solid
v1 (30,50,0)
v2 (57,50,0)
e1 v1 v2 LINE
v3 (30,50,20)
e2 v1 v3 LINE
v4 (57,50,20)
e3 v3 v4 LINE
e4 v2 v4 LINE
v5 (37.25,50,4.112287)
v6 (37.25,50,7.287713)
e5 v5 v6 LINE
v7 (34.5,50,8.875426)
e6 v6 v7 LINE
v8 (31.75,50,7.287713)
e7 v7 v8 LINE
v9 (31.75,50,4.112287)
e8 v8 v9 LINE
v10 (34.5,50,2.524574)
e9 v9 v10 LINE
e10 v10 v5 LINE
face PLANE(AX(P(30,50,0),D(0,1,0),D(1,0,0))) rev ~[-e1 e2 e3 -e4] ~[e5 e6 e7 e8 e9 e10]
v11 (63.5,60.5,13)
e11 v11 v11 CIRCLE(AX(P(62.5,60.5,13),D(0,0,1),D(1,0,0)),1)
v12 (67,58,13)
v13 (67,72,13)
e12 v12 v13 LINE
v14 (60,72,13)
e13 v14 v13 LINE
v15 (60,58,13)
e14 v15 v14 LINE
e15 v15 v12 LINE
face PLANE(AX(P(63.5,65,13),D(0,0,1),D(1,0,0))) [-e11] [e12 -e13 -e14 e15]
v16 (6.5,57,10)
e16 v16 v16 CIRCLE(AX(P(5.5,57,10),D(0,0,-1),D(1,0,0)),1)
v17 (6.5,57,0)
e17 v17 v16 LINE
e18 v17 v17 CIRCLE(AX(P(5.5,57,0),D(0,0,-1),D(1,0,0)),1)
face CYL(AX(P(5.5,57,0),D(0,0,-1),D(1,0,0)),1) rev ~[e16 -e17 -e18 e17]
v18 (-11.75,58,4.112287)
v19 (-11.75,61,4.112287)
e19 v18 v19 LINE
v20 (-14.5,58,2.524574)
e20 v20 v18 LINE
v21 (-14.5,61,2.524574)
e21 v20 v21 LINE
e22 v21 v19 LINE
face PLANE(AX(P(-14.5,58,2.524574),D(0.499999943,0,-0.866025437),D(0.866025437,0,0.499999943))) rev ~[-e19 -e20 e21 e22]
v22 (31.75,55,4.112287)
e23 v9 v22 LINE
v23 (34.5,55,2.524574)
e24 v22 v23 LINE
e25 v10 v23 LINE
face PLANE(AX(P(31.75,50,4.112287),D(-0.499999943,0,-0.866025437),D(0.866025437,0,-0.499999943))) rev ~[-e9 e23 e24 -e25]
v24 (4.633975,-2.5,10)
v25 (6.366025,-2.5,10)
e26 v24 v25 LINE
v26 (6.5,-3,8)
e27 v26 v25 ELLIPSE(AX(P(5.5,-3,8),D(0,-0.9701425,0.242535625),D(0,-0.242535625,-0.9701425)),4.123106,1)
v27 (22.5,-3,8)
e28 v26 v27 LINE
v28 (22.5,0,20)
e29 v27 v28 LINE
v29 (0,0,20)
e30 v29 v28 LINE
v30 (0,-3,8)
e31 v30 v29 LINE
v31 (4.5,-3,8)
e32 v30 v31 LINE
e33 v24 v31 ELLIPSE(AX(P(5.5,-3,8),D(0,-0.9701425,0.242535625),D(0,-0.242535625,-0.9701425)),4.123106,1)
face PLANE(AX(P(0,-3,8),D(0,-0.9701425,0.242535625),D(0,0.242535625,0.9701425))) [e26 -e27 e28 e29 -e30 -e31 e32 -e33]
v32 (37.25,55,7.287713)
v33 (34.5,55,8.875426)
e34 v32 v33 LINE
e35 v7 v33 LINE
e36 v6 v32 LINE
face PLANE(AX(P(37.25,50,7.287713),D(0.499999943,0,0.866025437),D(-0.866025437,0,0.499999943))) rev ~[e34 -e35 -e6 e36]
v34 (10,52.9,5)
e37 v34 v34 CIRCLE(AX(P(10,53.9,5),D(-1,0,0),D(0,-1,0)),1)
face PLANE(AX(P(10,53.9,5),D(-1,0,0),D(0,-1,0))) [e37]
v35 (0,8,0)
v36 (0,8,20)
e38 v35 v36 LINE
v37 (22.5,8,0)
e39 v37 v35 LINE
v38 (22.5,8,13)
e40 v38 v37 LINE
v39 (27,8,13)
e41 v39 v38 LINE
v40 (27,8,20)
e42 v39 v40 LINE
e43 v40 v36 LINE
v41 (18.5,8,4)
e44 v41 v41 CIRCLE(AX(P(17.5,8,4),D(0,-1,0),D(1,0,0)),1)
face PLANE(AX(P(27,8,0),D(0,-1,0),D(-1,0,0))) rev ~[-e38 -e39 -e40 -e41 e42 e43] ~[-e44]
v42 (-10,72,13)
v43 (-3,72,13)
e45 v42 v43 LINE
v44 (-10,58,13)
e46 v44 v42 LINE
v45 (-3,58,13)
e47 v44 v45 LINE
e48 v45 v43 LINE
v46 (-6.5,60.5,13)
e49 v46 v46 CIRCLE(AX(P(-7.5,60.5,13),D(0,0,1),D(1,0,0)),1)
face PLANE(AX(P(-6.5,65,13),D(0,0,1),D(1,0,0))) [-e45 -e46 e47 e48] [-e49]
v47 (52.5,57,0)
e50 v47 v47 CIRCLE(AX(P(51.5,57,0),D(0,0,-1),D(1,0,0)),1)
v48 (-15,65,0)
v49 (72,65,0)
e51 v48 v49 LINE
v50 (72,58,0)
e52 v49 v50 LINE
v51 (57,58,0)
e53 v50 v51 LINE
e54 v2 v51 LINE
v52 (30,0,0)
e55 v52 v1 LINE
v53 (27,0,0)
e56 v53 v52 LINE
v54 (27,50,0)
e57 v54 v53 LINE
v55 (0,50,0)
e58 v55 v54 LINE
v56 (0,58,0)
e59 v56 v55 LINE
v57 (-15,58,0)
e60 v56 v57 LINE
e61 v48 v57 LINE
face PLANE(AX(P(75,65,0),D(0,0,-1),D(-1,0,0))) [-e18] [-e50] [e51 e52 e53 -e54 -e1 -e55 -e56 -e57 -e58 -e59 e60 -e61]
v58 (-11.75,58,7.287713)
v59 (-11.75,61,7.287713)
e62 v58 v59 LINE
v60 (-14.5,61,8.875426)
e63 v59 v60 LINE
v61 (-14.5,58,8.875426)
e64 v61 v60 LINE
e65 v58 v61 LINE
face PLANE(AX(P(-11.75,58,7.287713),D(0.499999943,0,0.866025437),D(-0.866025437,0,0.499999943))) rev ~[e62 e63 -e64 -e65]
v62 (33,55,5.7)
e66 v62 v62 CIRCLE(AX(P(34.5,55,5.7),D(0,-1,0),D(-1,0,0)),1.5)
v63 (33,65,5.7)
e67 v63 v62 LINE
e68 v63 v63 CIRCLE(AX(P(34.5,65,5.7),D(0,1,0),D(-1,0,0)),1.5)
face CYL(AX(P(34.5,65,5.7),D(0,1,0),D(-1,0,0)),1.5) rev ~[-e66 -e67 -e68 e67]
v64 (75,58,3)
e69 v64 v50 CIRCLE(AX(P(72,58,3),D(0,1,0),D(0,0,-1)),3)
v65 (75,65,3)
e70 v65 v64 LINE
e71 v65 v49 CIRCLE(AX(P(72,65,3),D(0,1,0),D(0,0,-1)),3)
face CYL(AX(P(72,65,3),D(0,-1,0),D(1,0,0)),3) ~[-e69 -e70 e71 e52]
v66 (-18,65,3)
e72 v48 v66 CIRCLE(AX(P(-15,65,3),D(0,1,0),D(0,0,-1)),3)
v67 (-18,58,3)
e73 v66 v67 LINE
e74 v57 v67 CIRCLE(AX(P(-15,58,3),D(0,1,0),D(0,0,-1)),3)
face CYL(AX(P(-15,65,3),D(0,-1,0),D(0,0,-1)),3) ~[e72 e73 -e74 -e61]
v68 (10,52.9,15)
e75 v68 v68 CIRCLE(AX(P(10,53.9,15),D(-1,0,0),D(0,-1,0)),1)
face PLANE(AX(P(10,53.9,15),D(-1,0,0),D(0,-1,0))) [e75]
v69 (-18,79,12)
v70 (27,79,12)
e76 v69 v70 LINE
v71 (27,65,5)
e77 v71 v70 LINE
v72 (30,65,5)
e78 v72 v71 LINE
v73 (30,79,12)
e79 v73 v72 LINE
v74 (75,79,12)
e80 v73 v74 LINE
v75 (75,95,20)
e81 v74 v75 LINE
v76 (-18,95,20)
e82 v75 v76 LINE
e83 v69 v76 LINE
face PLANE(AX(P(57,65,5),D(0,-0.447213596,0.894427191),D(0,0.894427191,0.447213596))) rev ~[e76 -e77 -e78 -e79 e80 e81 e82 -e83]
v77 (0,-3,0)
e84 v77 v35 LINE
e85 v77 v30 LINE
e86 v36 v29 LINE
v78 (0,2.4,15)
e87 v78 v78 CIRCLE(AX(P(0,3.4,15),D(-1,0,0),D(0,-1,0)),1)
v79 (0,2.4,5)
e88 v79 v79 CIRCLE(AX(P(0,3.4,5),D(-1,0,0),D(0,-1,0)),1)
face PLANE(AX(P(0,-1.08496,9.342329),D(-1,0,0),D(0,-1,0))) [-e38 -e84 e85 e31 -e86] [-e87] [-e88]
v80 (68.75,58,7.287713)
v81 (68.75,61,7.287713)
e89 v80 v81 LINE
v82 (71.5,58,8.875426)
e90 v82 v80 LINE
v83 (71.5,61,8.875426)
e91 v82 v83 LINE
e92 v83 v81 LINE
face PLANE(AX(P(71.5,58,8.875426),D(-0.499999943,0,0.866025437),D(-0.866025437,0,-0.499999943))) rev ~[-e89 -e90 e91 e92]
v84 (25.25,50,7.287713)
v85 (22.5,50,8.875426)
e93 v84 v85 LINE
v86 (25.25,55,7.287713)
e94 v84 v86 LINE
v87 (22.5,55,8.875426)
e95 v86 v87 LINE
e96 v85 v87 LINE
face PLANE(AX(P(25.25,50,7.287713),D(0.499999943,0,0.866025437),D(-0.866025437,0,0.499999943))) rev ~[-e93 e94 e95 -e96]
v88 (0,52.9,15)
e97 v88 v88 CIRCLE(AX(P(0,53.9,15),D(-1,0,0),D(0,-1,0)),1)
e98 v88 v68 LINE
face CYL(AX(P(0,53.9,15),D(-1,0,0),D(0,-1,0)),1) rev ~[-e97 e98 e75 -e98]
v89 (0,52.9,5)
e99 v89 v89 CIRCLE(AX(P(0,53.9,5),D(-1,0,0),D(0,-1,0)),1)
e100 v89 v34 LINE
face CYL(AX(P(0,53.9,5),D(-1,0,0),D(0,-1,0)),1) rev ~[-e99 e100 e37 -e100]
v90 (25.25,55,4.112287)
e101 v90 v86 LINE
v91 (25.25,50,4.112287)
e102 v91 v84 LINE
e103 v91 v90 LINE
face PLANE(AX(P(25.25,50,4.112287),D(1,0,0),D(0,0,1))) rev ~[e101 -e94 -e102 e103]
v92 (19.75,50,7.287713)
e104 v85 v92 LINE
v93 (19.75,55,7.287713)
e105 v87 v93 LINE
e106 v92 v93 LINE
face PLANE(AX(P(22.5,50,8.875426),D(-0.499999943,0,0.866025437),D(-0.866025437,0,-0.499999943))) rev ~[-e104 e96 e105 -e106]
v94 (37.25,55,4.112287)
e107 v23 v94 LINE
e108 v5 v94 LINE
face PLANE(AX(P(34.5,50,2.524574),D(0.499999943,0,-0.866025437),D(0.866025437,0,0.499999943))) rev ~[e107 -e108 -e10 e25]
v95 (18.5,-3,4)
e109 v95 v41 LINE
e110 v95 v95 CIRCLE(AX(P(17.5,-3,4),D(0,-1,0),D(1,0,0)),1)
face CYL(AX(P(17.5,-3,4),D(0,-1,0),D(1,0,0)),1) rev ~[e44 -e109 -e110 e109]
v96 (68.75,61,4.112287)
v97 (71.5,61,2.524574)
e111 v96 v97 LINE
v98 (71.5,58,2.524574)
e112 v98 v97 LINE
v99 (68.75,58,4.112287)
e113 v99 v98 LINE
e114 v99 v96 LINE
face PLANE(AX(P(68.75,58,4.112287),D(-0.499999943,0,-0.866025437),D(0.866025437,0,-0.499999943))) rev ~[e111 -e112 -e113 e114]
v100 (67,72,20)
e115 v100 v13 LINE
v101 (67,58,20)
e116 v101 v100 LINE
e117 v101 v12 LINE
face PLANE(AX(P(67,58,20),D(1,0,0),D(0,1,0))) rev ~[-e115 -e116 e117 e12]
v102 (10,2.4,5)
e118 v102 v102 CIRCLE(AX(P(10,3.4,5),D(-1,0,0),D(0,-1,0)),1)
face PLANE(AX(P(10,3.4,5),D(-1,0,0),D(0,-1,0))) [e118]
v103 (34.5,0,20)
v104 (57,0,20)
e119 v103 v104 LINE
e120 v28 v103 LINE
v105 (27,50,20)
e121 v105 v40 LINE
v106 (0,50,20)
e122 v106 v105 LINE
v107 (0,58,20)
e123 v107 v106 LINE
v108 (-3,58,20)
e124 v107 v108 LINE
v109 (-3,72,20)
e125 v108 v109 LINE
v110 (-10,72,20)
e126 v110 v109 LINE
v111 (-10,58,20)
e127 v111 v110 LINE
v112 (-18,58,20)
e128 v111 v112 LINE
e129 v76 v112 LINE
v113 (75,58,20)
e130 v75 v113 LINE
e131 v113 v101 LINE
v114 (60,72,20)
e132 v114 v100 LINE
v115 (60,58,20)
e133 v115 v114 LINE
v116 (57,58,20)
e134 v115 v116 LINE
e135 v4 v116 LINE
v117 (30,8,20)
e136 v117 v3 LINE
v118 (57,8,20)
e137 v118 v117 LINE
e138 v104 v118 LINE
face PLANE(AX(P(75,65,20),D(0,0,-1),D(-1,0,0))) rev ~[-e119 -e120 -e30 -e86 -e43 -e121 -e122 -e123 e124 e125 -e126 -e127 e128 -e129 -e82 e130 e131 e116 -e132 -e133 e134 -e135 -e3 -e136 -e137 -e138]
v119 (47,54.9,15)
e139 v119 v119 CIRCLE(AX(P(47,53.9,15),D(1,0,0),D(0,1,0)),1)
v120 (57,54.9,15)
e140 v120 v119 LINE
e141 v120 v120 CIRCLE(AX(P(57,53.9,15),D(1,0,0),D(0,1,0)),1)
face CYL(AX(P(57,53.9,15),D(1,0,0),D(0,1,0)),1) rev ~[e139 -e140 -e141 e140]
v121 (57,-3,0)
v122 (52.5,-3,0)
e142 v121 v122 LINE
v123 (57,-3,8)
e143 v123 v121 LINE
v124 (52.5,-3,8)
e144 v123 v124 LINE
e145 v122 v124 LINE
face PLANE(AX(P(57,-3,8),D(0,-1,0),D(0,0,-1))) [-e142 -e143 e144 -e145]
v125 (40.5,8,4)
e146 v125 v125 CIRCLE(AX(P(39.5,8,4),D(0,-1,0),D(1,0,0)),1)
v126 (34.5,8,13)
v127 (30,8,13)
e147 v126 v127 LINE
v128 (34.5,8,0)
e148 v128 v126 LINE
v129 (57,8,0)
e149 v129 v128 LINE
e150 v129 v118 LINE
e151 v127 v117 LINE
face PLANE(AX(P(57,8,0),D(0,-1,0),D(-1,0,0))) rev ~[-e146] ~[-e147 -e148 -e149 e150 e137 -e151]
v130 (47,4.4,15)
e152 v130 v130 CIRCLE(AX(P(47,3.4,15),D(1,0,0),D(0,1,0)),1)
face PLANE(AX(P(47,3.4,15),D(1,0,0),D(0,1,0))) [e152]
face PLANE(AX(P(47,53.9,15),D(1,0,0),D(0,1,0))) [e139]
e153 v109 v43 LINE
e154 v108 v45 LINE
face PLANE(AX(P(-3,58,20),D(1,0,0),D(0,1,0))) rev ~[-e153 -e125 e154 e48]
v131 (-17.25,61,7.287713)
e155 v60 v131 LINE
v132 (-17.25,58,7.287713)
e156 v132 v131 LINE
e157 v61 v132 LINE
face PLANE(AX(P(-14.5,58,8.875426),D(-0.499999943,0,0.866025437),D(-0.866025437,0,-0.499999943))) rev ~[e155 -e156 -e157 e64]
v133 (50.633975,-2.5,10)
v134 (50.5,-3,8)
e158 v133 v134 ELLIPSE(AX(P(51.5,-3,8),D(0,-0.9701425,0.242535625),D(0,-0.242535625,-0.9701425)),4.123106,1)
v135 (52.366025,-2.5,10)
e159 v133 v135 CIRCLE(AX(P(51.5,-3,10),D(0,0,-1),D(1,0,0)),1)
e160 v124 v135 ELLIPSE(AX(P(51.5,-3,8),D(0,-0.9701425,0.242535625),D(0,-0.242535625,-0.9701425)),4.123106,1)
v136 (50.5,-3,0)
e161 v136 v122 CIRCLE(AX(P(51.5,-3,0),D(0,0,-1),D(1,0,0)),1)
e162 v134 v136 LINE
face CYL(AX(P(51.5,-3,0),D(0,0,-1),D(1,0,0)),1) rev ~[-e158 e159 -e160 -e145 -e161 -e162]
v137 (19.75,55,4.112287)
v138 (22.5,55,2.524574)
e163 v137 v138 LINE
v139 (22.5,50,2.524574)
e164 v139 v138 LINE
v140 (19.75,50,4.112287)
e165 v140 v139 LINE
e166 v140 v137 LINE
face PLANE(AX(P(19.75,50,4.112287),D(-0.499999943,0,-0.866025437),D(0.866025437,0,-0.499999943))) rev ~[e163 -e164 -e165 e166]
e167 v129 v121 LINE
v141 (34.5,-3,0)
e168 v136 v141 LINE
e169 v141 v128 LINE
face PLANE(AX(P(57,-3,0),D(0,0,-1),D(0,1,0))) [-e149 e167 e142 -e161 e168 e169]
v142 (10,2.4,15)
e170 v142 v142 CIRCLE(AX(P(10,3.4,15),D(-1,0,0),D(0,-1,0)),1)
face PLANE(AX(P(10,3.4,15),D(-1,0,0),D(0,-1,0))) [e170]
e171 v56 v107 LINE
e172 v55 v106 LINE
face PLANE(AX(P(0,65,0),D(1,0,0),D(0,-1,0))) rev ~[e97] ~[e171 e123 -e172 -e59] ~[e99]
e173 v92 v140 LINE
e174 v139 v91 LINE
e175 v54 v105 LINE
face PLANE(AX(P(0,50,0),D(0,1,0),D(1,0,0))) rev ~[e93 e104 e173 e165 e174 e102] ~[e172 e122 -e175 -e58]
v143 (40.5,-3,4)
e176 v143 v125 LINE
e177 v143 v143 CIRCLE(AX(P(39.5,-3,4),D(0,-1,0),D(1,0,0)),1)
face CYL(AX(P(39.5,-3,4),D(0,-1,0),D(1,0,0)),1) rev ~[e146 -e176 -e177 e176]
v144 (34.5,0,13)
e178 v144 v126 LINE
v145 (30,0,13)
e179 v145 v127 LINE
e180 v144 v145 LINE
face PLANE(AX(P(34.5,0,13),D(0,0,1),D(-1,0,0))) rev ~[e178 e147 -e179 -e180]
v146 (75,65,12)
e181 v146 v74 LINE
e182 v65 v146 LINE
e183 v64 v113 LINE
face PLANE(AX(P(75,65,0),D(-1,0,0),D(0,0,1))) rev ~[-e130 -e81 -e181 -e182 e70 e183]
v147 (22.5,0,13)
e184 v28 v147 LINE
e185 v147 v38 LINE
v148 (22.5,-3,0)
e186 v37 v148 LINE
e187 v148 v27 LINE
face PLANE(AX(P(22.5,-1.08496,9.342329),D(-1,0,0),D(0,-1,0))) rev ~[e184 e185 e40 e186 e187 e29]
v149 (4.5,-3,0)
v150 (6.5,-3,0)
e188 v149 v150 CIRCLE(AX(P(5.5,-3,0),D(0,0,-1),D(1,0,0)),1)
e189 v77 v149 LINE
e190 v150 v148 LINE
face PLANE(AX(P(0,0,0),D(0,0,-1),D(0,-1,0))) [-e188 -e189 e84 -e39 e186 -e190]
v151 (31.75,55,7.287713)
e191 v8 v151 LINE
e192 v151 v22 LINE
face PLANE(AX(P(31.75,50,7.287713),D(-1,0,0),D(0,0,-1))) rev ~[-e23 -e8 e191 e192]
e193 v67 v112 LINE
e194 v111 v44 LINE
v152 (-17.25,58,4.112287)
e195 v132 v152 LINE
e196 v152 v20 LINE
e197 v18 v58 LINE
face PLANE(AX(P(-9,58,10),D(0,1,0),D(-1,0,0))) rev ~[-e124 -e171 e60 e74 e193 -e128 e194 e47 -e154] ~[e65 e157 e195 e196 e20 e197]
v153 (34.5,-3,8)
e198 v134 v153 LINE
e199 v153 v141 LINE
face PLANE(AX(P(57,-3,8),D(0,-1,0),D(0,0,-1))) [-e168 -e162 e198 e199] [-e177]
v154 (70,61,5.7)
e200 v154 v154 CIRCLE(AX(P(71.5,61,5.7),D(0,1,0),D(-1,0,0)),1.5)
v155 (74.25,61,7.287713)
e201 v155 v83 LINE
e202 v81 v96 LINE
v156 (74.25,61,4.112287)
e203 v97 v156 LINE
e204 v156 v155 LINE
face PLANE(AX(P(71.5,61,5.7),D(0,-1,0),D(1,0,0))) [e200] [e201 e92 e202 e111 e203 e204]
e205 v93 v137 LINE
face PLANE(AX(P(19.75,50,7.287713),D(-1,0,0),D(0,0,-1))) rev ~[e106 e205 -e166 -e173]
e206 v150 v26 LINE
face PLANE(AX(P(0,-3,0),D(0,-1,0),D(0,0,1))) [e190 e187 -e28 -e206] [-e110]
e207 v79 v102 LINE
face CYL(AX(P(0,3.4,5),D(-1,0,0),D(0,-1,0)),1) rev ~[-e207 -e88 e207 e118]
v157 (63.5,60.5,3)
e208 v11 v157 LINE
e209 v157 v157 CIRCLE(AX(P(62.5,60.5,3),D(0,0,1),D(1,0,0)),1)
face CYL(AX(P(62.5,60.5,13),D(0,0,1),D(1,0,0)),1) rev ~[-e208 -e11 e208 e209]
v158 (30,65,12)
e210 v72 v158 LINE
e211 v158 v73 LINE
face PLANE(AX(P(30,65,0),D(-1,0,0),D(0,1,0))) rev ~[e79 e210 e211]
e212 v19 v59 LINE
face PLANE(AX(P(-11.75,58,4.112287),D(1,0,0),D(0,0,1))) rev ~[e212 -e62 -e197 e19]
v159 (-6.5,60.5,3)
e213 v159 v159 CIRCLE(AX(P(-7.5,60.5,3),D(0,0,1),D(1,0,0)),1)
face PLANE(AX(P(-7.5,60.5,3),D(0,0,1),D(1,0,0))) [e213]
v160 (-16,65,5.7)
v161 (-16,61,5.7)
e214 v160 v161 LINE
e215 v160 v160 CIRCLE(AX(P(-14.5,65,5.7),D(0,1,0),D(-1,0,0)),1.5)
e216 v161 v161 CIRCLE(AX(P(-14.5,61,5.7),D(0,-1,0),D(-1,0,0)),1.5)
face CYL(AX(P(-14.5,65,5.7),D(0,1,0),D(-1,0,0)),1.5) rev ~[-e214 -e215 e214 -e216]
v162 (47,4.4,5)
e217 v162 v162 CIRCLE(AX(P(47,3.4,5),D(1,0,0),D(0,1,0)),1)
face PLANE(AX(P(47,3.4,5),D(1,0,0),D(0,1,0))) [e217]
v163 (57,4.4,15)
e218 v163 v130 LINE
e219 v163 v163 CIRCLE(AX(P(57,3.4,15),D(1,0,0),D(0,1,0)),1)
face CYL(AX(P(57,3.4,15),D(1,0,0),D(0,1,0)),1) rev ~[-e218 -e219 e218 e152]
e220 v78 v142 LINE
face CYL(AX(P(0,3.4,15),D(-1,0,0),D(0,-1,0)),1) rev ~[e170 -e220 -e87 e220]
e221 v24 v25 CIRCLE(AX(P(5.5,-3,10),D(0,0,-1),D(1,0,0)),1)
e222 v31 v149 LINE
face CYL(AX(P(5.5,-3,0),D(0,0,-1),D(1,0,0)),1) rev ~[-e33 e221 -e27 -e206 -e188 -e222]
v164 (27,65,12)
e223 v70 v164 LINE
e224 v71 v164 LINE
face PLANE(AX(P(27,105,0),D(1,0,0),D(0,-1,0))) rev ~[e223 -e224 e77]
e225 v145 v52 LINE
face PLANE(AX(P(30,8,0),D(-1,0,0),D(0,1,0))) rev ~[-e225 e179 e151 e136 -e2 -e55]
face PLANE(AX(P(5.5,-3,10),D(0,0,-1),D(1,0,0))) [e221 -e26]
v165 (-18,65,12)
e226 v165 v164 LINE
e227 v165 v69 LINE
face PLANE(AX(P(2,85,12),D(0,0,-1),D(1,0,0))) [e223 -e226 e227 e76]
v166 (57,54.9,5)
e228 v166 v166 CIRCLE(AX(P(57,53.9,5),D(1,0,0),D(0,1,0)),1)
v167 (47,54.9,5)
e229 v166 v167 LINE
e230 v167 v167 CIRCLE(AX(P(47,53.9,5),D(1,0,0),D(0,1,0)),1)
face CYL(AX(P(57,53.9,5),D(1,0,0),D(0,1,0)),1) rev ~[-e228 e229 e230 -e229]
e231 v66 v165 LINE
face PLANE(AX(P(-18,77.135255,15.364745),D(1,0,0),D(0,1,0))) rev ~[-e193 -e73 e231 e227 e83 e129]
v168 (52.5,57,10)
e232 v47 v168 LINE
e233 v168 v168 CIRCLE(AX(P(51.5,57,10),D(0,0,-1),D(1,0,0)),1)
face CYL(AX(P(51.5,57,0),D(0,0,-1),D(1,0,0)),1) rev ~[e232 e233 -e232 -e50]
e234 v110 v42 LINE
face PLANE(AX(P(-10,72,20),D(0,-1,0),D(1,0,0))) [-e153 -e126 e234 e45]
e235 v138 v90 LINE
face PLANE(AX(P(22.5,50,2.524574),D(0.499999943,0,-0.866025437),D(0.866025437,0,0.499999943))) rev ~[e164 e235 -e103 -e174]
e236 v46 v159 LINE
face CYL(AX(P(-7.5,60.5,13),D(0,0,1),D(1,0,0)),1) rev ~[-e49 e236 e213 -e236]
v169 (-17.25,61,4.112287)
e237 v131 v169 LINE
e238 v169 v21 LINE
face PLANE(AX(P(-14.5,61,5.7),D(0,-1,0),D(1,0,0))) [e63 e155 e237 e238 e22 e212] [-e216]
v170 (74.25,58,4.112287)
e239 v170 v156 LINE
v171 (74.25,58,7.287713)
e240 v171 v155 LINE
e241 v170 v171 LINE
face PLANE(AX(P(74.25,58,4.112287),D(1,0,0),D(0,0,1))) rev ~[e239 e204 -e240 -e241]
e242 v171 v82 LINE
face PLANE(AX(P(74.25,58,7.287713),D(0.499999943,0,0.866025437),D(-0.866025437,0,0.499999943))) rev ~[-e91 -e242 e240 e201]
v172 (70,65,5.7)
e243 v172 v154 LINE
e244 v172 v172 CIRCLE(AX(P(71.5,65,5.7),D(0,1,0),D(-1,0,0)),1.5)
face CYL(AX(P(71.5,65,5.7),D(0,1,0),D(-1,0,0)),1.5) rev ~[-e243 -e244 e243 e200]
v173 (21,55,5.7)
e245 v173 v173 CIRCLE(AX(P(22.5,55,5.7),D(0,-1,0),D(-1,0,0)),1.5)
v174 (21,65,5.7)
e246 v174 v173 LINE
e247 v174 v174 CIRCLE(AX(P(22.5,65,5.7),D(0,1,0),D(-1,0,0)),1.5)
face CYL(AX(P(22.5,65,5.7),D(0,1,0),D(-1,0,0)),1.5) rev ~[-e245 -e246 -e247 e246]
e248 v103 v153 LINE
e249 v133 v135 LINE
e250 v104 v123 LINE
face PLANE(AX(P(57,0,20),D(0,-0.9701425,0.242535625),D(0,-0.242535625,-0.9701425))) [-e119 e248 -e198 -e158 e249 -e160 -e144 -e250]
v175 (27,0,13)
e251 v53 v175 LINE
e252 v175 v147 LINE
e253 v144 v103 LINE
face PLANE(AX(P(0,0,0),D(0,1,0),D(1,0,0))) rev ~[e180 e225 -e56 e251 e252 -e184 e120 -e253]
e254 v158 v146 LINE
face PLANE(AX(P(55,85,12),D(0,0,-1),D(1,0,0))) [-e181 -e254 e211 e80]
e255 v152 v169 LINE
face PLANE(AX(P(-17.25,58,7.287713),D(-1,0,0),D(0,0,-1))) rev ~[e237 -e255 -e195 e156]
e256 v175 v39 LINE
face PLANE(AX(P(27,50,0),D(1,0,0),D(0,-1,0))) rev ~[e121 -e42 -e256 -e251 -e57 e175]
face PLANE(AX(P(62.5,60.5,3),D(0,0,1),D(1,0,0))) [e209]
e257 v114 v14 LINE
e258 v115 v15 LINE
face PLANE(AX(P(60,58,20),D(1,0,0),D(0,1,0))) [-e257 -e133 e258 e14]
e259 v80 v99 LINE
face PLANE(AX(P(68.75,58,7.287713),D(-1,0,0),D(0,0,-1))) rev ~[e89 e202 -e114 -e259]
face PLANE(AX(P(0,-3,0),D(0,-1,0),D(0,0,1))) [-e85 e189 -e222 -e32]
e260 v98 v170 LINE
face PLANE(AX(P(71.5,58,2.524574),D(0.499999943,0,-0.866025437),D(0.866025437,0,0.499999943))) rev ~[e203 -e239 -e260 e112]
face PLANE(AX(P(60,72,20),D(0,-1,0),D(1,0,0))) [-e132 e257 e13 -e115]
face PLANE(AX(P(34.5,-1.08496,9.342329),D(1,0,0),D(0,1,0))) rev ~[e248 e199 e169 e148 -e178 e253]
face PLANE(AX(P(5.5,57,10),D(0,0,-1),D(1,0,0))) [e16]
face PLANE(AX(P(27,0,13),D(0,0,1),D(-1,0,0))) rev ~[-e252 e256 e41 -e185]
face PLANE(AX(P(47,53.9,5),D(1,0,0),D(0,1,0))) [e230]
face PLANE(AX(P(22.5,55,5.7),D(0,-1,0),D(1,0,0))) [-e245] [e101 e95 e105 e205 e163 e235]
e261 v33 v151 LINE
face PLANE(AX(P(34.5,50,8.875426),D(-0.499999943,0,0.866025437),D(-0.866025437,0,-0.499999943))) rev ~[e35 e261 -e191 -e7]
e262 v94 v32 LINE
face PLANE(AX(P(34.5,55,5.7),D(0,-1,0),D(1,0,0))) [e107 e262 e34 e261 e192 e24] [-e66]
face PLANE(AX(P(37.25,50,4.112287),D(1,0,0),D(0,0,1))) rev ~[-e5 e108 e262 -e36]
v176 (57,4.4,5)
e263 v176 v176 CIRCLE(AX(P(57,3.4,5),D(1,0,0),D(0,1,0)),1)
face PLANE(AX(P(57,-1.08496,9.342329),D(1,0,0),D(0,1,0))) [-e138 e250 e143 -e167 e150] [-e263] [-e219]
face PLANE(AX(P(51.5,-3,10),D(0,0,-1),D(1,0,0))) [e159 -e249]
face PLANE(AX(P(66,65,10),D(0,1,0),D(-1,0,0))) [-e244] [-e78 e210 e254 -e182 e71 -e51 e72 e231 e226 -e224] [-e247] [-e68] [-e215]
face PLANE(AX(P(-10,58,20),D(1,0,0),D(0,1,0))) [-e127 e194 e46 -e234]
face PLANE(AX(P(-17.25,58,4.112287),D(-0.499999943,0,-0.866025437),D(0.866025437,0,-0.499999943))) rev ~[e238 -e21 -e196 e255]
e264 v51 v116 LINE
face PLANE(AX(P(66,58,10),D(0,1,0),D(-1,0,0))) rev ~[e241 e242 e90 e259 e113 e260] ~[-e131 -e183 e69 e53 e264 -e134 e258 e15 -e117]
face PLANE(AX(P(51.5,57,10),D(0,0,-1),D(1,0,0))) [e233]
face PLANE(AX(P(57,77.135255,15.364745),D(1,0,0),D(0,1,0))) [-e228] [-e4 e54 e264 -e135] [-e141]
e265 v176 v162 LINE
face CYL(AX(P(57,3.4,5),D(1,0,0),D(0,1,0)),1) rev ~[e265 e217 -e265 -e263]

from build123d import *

# Parameters (mm, degrees)
F1_DEPTH      = 20
F2_R          = 1
F3_DEPTH      = 10
F4_R          = 1
F5_DEPTH      = 10
F7_DEPTH      = 75
F7_DEPTH_BACK = -18
F9_DEPTH      = 12
F11_DEPTH     = 12
F12_W         = 18
F12_H         = 20
F13_DEPTH     = 7
F14_R         = 1.5
F15_DEPTH     = 25
F16_R         = 3
F18_DEPTH     = 22.5
F20_DEPTH     = 22.5
F21_R         = 1
F22_DEPTH     = 10
F23_W         = 7
F23_H         = 14
F24_DEPTH     = 7
F25_R         = 1
F26_DEPTH     = 25
F27_R         = 1
F28_DEPTH     = 10
F29_R         = 1.5
F30_R         = 1.5
F33_DEPTH     = 5
F32_R         = 1.5
F34_DEPTH     = 3


with BuildPart() as f1:
    # F0 (on Top) → F1 (new body)
    with BuildSketch(Plane.XY):
        Polygon((0, 8), (0, 0), (57, 0), (57, 8), (30, 8), (30, 50), (57, 50), (57, 65), (0, 65), (0, 50), (27, 50), (27, 8), align=None)
    extrude(amount=F1_DEPTH)

    # F2 (on face) → F3 (cut)
    with BuildSketch(Plane.YZ.offset(57)):
        with Locations((3.4, 15)):
            Circle(F2_R)
        with Locations((3.4, 5)):
            Circle(F2_R)
        with Locations((53.9, 15)):
            Circle(F2_R)
        with Locations((53.9, 5)):
            Circle(F2_R)
    extrude(amount=-F3_DEPTH, mode=Mode.SUBTRACT)

    # F4 (on face) → F5 (cut)
    with BuildSketch(Plane(origin=(0, 0, 0), x_dir=(0, -1, 0), z_dir=(-1, 0, 0))):
        with Locations((-53.9, 15)):
            Circle(F4_R)
        with Locations((-53.9, 5)):
            Circle(F4_R)
        with Locations((-3.4, 15)):
            Circle(F4_R)
        with Locations((-3.4, 5)):
            Circle(F4_R)
    extrude(amount=-F5_DEPTH, mode=Mode.SUBTRACT)

    # F6 (on face) → F7 (join, two sides)
    with BuildSketch(Plane.YZ.offset(57)) as f7_sk:
        Polygon((65, 20), (65, 5), (95, 20), align=None)
    extrude(amount=-F7_DEPTH)
    extrude(f7_sk.sketch, amount=-F7_DEPTH_BACK)

    # F8 (on face) → F9 (cut)
    with BuildSketch(Plane.XZ):
        Polygon((27, 0), (27, 13), (22.5, 13), (22.5, 7), (22.5, 0), align=None)
        Polygon((30, 13), (30, 0), (34.5, 0), (34.5, 7), (34.5, 13), align=None)
    extrude(amount=-F9_DEPTH, mode=Mode.SUBTRACT)

    # F10 (on face) → F11 (cut)
    with BuildSketch(Plane(origin=(0, 0, 0), x_dir=(1, 0, 0), z_dir=(0, 0, -1))):
        Polygon((27, -105), (27, -65), (0, -65), (-23, -65), (-23, -105), align=None)
        Polygon((57, -65), (30, -65), (30, -105), (80, -105), (80, -65), align=None)
    extrude(amount=-F11_DEPTH, mode=Mode.SUBTRACT)

    # F12 (on face) → F13 (join)
    with BuildSketch(Plane(origin=(0, 65, 0), x_dir=(-1, 0, 0), z_dir=(0, 1, 0))):
        with Locations((-66, 10)):
            Rectangle(F12_W, F12_H)
        with Locations((9, 10)):
            Rectangle(F12_W, F12_H)
    extrude(amount=-F13_DEPTH)

    # F14 (on face) → F15 (cut)
    with BuildSketch(Plane(origin=(0, 65, 0), x_dir=(-1, 0, 0), z_dir=(0, 1, 0))):
        with Locations((-71.5, 5.7)):
            Circle(F14_R)
        with Locations((-34.5, 5.7)):
            Circle(F14_R)
        with Locations((-22.5, 5.7)):
            Circle(F14_R)
        with Locations((14.5, 5.7)):
            Circle(F14_R)
    extrude(amount=-F15_DEPTH, mode=Mode.SUBTRACT)

    # F16
    f16_edges = [f1.edges().sort_by_distance(p)[0] for p in [
        (75, 61.5, 0),
        (-18, 61.5, 0),
    ]]
    fillet(f16_edges, radius=F16_R)

    # F17 (on face) → F18 (join, through all)
    with BuildSketch(Plane.YZ.offset(57)):
        Polygon((-3, 8), (-3, 0), (0, 0), (0, 20), align=None)
    extrude(amount=-F18_DEPTH)

    # F19 (on face) → F20 (join, through all)
    with BuildSketch(Plane(origin=(0, 0, 0), x_dir=(0, -1, 0), z_dir=(-1, 0, 0))):
        Polygon((0, 0), (3, 0), (3, 8), (0, 20), align=None)
    extrude(amount=-F20_DEPTH)

    # F21 (on face) → F22 (cut)
    with BuildSketch(Plane(origin=(0, 0, 0), x_dir=(1, 0, 0), z_dir=(0, 0, -1))):
        with Locations((5.5, -57)):
            Circle(F21_R)
        with Locations((5.5, 3)):
            Circle(F21_R)
        with Locations((51.5, 3)):
            Circle(F21_R)
        with Locations((51.5, -57)):
            Circle(F21_R)
    extrude(amount=-F22_DEPTH, mode=Mode.SUBTRACT)

    # F23 (on face) → F24 (cut)
    with BuildSketch(Plane.XY.offset(20)):
        with Locations((-6.5, 65)):
            Rectangle(F23_W, F23_H)
        with Locations((63.5, 65)):
            Rectangle(F23_W, F23_H)
    extrude(amount=-F24_DEPTH, mode=Mode.SUBTRACT)

    # F25 (on face) → F26 (cut)
    with BuildSketch(Plane.XZ.offset(3)):
        with Locations((17.5, 4)):
            Circle(F25_R)
        with Locations((39.5, 4)):
            Circle(F25_R)
    extrude(amount=-F26_DEPTH, mode=Mode.SUBTRACT)

    # F27 (on face) → F28 (cut)
    with BuildSketch(Plane.XY.offset(13)):
        with Locations((-7.5, 60.5)):
            Circle(F27_R)
        with Locations((62.5, 60.5)):
            Circle(F27_R)
    extrude(amount=-F28_DEPTH, mode=Mode.SUBTRACT)

    # F29 (on face) + F30 (on face) → F33 (cut)
    with BuildSketch(Plane.XZ.offset(-50)):
        Polygon((34.5, 2.524574), (37.25, 4.112287), (37.25, 7.287713), (34.5, 8.875426), (31.75, 7.287713), (31.75, 4.112287), align=None)
        with Locations((34.5, 5.7)):
            Circle(F29_R, mode=Mode.SUBTRACT)
    with BuildSketch(Plane.XZ.offset(-50)):
        Polygon((19.75, 7.287713), (19.75, 4.112287), (22.5, 2.524574), (25.25, 4.112287), (25.25, 7.287713), (22.5, 8.875426), align=None)
        with Locations((22.5, 5.7)):
            Circle(F30_R, mode=Mode.SUBTRACT)
    extrude(amount=-F33_DEPTH, mode=Mode.SUBTRACT)

    # F31 (on face) + F32 (on face) → F34 (cut)
    with BuildSketch(Plane.XZ.offset(-58)):
        Polygon((71.5, 8.875426), (68.75, 7.287713), (68.75, 4.112287), (71.5, 2.524574), (74.25, 4.112287), (74.25, 7.287713), align=None)
    with BuildSketch(Plane.XZ.offset(-58)):
        Polygon((-11.75, 4.112287), (-11.75, 7.287713), (-14.5, 8.875426), (-17.25, 7.287713), (-17.25, 4.112287), (-14.5, 2.524574), align=None)
        with Locations((-14.5, 5.7)):
            Circle(F32_R, mode=Mode.SUBTRACT)
    extrude(amount=-F34_DEPTH, mode=Mode.SUBTRACT)


solid = f1.part
